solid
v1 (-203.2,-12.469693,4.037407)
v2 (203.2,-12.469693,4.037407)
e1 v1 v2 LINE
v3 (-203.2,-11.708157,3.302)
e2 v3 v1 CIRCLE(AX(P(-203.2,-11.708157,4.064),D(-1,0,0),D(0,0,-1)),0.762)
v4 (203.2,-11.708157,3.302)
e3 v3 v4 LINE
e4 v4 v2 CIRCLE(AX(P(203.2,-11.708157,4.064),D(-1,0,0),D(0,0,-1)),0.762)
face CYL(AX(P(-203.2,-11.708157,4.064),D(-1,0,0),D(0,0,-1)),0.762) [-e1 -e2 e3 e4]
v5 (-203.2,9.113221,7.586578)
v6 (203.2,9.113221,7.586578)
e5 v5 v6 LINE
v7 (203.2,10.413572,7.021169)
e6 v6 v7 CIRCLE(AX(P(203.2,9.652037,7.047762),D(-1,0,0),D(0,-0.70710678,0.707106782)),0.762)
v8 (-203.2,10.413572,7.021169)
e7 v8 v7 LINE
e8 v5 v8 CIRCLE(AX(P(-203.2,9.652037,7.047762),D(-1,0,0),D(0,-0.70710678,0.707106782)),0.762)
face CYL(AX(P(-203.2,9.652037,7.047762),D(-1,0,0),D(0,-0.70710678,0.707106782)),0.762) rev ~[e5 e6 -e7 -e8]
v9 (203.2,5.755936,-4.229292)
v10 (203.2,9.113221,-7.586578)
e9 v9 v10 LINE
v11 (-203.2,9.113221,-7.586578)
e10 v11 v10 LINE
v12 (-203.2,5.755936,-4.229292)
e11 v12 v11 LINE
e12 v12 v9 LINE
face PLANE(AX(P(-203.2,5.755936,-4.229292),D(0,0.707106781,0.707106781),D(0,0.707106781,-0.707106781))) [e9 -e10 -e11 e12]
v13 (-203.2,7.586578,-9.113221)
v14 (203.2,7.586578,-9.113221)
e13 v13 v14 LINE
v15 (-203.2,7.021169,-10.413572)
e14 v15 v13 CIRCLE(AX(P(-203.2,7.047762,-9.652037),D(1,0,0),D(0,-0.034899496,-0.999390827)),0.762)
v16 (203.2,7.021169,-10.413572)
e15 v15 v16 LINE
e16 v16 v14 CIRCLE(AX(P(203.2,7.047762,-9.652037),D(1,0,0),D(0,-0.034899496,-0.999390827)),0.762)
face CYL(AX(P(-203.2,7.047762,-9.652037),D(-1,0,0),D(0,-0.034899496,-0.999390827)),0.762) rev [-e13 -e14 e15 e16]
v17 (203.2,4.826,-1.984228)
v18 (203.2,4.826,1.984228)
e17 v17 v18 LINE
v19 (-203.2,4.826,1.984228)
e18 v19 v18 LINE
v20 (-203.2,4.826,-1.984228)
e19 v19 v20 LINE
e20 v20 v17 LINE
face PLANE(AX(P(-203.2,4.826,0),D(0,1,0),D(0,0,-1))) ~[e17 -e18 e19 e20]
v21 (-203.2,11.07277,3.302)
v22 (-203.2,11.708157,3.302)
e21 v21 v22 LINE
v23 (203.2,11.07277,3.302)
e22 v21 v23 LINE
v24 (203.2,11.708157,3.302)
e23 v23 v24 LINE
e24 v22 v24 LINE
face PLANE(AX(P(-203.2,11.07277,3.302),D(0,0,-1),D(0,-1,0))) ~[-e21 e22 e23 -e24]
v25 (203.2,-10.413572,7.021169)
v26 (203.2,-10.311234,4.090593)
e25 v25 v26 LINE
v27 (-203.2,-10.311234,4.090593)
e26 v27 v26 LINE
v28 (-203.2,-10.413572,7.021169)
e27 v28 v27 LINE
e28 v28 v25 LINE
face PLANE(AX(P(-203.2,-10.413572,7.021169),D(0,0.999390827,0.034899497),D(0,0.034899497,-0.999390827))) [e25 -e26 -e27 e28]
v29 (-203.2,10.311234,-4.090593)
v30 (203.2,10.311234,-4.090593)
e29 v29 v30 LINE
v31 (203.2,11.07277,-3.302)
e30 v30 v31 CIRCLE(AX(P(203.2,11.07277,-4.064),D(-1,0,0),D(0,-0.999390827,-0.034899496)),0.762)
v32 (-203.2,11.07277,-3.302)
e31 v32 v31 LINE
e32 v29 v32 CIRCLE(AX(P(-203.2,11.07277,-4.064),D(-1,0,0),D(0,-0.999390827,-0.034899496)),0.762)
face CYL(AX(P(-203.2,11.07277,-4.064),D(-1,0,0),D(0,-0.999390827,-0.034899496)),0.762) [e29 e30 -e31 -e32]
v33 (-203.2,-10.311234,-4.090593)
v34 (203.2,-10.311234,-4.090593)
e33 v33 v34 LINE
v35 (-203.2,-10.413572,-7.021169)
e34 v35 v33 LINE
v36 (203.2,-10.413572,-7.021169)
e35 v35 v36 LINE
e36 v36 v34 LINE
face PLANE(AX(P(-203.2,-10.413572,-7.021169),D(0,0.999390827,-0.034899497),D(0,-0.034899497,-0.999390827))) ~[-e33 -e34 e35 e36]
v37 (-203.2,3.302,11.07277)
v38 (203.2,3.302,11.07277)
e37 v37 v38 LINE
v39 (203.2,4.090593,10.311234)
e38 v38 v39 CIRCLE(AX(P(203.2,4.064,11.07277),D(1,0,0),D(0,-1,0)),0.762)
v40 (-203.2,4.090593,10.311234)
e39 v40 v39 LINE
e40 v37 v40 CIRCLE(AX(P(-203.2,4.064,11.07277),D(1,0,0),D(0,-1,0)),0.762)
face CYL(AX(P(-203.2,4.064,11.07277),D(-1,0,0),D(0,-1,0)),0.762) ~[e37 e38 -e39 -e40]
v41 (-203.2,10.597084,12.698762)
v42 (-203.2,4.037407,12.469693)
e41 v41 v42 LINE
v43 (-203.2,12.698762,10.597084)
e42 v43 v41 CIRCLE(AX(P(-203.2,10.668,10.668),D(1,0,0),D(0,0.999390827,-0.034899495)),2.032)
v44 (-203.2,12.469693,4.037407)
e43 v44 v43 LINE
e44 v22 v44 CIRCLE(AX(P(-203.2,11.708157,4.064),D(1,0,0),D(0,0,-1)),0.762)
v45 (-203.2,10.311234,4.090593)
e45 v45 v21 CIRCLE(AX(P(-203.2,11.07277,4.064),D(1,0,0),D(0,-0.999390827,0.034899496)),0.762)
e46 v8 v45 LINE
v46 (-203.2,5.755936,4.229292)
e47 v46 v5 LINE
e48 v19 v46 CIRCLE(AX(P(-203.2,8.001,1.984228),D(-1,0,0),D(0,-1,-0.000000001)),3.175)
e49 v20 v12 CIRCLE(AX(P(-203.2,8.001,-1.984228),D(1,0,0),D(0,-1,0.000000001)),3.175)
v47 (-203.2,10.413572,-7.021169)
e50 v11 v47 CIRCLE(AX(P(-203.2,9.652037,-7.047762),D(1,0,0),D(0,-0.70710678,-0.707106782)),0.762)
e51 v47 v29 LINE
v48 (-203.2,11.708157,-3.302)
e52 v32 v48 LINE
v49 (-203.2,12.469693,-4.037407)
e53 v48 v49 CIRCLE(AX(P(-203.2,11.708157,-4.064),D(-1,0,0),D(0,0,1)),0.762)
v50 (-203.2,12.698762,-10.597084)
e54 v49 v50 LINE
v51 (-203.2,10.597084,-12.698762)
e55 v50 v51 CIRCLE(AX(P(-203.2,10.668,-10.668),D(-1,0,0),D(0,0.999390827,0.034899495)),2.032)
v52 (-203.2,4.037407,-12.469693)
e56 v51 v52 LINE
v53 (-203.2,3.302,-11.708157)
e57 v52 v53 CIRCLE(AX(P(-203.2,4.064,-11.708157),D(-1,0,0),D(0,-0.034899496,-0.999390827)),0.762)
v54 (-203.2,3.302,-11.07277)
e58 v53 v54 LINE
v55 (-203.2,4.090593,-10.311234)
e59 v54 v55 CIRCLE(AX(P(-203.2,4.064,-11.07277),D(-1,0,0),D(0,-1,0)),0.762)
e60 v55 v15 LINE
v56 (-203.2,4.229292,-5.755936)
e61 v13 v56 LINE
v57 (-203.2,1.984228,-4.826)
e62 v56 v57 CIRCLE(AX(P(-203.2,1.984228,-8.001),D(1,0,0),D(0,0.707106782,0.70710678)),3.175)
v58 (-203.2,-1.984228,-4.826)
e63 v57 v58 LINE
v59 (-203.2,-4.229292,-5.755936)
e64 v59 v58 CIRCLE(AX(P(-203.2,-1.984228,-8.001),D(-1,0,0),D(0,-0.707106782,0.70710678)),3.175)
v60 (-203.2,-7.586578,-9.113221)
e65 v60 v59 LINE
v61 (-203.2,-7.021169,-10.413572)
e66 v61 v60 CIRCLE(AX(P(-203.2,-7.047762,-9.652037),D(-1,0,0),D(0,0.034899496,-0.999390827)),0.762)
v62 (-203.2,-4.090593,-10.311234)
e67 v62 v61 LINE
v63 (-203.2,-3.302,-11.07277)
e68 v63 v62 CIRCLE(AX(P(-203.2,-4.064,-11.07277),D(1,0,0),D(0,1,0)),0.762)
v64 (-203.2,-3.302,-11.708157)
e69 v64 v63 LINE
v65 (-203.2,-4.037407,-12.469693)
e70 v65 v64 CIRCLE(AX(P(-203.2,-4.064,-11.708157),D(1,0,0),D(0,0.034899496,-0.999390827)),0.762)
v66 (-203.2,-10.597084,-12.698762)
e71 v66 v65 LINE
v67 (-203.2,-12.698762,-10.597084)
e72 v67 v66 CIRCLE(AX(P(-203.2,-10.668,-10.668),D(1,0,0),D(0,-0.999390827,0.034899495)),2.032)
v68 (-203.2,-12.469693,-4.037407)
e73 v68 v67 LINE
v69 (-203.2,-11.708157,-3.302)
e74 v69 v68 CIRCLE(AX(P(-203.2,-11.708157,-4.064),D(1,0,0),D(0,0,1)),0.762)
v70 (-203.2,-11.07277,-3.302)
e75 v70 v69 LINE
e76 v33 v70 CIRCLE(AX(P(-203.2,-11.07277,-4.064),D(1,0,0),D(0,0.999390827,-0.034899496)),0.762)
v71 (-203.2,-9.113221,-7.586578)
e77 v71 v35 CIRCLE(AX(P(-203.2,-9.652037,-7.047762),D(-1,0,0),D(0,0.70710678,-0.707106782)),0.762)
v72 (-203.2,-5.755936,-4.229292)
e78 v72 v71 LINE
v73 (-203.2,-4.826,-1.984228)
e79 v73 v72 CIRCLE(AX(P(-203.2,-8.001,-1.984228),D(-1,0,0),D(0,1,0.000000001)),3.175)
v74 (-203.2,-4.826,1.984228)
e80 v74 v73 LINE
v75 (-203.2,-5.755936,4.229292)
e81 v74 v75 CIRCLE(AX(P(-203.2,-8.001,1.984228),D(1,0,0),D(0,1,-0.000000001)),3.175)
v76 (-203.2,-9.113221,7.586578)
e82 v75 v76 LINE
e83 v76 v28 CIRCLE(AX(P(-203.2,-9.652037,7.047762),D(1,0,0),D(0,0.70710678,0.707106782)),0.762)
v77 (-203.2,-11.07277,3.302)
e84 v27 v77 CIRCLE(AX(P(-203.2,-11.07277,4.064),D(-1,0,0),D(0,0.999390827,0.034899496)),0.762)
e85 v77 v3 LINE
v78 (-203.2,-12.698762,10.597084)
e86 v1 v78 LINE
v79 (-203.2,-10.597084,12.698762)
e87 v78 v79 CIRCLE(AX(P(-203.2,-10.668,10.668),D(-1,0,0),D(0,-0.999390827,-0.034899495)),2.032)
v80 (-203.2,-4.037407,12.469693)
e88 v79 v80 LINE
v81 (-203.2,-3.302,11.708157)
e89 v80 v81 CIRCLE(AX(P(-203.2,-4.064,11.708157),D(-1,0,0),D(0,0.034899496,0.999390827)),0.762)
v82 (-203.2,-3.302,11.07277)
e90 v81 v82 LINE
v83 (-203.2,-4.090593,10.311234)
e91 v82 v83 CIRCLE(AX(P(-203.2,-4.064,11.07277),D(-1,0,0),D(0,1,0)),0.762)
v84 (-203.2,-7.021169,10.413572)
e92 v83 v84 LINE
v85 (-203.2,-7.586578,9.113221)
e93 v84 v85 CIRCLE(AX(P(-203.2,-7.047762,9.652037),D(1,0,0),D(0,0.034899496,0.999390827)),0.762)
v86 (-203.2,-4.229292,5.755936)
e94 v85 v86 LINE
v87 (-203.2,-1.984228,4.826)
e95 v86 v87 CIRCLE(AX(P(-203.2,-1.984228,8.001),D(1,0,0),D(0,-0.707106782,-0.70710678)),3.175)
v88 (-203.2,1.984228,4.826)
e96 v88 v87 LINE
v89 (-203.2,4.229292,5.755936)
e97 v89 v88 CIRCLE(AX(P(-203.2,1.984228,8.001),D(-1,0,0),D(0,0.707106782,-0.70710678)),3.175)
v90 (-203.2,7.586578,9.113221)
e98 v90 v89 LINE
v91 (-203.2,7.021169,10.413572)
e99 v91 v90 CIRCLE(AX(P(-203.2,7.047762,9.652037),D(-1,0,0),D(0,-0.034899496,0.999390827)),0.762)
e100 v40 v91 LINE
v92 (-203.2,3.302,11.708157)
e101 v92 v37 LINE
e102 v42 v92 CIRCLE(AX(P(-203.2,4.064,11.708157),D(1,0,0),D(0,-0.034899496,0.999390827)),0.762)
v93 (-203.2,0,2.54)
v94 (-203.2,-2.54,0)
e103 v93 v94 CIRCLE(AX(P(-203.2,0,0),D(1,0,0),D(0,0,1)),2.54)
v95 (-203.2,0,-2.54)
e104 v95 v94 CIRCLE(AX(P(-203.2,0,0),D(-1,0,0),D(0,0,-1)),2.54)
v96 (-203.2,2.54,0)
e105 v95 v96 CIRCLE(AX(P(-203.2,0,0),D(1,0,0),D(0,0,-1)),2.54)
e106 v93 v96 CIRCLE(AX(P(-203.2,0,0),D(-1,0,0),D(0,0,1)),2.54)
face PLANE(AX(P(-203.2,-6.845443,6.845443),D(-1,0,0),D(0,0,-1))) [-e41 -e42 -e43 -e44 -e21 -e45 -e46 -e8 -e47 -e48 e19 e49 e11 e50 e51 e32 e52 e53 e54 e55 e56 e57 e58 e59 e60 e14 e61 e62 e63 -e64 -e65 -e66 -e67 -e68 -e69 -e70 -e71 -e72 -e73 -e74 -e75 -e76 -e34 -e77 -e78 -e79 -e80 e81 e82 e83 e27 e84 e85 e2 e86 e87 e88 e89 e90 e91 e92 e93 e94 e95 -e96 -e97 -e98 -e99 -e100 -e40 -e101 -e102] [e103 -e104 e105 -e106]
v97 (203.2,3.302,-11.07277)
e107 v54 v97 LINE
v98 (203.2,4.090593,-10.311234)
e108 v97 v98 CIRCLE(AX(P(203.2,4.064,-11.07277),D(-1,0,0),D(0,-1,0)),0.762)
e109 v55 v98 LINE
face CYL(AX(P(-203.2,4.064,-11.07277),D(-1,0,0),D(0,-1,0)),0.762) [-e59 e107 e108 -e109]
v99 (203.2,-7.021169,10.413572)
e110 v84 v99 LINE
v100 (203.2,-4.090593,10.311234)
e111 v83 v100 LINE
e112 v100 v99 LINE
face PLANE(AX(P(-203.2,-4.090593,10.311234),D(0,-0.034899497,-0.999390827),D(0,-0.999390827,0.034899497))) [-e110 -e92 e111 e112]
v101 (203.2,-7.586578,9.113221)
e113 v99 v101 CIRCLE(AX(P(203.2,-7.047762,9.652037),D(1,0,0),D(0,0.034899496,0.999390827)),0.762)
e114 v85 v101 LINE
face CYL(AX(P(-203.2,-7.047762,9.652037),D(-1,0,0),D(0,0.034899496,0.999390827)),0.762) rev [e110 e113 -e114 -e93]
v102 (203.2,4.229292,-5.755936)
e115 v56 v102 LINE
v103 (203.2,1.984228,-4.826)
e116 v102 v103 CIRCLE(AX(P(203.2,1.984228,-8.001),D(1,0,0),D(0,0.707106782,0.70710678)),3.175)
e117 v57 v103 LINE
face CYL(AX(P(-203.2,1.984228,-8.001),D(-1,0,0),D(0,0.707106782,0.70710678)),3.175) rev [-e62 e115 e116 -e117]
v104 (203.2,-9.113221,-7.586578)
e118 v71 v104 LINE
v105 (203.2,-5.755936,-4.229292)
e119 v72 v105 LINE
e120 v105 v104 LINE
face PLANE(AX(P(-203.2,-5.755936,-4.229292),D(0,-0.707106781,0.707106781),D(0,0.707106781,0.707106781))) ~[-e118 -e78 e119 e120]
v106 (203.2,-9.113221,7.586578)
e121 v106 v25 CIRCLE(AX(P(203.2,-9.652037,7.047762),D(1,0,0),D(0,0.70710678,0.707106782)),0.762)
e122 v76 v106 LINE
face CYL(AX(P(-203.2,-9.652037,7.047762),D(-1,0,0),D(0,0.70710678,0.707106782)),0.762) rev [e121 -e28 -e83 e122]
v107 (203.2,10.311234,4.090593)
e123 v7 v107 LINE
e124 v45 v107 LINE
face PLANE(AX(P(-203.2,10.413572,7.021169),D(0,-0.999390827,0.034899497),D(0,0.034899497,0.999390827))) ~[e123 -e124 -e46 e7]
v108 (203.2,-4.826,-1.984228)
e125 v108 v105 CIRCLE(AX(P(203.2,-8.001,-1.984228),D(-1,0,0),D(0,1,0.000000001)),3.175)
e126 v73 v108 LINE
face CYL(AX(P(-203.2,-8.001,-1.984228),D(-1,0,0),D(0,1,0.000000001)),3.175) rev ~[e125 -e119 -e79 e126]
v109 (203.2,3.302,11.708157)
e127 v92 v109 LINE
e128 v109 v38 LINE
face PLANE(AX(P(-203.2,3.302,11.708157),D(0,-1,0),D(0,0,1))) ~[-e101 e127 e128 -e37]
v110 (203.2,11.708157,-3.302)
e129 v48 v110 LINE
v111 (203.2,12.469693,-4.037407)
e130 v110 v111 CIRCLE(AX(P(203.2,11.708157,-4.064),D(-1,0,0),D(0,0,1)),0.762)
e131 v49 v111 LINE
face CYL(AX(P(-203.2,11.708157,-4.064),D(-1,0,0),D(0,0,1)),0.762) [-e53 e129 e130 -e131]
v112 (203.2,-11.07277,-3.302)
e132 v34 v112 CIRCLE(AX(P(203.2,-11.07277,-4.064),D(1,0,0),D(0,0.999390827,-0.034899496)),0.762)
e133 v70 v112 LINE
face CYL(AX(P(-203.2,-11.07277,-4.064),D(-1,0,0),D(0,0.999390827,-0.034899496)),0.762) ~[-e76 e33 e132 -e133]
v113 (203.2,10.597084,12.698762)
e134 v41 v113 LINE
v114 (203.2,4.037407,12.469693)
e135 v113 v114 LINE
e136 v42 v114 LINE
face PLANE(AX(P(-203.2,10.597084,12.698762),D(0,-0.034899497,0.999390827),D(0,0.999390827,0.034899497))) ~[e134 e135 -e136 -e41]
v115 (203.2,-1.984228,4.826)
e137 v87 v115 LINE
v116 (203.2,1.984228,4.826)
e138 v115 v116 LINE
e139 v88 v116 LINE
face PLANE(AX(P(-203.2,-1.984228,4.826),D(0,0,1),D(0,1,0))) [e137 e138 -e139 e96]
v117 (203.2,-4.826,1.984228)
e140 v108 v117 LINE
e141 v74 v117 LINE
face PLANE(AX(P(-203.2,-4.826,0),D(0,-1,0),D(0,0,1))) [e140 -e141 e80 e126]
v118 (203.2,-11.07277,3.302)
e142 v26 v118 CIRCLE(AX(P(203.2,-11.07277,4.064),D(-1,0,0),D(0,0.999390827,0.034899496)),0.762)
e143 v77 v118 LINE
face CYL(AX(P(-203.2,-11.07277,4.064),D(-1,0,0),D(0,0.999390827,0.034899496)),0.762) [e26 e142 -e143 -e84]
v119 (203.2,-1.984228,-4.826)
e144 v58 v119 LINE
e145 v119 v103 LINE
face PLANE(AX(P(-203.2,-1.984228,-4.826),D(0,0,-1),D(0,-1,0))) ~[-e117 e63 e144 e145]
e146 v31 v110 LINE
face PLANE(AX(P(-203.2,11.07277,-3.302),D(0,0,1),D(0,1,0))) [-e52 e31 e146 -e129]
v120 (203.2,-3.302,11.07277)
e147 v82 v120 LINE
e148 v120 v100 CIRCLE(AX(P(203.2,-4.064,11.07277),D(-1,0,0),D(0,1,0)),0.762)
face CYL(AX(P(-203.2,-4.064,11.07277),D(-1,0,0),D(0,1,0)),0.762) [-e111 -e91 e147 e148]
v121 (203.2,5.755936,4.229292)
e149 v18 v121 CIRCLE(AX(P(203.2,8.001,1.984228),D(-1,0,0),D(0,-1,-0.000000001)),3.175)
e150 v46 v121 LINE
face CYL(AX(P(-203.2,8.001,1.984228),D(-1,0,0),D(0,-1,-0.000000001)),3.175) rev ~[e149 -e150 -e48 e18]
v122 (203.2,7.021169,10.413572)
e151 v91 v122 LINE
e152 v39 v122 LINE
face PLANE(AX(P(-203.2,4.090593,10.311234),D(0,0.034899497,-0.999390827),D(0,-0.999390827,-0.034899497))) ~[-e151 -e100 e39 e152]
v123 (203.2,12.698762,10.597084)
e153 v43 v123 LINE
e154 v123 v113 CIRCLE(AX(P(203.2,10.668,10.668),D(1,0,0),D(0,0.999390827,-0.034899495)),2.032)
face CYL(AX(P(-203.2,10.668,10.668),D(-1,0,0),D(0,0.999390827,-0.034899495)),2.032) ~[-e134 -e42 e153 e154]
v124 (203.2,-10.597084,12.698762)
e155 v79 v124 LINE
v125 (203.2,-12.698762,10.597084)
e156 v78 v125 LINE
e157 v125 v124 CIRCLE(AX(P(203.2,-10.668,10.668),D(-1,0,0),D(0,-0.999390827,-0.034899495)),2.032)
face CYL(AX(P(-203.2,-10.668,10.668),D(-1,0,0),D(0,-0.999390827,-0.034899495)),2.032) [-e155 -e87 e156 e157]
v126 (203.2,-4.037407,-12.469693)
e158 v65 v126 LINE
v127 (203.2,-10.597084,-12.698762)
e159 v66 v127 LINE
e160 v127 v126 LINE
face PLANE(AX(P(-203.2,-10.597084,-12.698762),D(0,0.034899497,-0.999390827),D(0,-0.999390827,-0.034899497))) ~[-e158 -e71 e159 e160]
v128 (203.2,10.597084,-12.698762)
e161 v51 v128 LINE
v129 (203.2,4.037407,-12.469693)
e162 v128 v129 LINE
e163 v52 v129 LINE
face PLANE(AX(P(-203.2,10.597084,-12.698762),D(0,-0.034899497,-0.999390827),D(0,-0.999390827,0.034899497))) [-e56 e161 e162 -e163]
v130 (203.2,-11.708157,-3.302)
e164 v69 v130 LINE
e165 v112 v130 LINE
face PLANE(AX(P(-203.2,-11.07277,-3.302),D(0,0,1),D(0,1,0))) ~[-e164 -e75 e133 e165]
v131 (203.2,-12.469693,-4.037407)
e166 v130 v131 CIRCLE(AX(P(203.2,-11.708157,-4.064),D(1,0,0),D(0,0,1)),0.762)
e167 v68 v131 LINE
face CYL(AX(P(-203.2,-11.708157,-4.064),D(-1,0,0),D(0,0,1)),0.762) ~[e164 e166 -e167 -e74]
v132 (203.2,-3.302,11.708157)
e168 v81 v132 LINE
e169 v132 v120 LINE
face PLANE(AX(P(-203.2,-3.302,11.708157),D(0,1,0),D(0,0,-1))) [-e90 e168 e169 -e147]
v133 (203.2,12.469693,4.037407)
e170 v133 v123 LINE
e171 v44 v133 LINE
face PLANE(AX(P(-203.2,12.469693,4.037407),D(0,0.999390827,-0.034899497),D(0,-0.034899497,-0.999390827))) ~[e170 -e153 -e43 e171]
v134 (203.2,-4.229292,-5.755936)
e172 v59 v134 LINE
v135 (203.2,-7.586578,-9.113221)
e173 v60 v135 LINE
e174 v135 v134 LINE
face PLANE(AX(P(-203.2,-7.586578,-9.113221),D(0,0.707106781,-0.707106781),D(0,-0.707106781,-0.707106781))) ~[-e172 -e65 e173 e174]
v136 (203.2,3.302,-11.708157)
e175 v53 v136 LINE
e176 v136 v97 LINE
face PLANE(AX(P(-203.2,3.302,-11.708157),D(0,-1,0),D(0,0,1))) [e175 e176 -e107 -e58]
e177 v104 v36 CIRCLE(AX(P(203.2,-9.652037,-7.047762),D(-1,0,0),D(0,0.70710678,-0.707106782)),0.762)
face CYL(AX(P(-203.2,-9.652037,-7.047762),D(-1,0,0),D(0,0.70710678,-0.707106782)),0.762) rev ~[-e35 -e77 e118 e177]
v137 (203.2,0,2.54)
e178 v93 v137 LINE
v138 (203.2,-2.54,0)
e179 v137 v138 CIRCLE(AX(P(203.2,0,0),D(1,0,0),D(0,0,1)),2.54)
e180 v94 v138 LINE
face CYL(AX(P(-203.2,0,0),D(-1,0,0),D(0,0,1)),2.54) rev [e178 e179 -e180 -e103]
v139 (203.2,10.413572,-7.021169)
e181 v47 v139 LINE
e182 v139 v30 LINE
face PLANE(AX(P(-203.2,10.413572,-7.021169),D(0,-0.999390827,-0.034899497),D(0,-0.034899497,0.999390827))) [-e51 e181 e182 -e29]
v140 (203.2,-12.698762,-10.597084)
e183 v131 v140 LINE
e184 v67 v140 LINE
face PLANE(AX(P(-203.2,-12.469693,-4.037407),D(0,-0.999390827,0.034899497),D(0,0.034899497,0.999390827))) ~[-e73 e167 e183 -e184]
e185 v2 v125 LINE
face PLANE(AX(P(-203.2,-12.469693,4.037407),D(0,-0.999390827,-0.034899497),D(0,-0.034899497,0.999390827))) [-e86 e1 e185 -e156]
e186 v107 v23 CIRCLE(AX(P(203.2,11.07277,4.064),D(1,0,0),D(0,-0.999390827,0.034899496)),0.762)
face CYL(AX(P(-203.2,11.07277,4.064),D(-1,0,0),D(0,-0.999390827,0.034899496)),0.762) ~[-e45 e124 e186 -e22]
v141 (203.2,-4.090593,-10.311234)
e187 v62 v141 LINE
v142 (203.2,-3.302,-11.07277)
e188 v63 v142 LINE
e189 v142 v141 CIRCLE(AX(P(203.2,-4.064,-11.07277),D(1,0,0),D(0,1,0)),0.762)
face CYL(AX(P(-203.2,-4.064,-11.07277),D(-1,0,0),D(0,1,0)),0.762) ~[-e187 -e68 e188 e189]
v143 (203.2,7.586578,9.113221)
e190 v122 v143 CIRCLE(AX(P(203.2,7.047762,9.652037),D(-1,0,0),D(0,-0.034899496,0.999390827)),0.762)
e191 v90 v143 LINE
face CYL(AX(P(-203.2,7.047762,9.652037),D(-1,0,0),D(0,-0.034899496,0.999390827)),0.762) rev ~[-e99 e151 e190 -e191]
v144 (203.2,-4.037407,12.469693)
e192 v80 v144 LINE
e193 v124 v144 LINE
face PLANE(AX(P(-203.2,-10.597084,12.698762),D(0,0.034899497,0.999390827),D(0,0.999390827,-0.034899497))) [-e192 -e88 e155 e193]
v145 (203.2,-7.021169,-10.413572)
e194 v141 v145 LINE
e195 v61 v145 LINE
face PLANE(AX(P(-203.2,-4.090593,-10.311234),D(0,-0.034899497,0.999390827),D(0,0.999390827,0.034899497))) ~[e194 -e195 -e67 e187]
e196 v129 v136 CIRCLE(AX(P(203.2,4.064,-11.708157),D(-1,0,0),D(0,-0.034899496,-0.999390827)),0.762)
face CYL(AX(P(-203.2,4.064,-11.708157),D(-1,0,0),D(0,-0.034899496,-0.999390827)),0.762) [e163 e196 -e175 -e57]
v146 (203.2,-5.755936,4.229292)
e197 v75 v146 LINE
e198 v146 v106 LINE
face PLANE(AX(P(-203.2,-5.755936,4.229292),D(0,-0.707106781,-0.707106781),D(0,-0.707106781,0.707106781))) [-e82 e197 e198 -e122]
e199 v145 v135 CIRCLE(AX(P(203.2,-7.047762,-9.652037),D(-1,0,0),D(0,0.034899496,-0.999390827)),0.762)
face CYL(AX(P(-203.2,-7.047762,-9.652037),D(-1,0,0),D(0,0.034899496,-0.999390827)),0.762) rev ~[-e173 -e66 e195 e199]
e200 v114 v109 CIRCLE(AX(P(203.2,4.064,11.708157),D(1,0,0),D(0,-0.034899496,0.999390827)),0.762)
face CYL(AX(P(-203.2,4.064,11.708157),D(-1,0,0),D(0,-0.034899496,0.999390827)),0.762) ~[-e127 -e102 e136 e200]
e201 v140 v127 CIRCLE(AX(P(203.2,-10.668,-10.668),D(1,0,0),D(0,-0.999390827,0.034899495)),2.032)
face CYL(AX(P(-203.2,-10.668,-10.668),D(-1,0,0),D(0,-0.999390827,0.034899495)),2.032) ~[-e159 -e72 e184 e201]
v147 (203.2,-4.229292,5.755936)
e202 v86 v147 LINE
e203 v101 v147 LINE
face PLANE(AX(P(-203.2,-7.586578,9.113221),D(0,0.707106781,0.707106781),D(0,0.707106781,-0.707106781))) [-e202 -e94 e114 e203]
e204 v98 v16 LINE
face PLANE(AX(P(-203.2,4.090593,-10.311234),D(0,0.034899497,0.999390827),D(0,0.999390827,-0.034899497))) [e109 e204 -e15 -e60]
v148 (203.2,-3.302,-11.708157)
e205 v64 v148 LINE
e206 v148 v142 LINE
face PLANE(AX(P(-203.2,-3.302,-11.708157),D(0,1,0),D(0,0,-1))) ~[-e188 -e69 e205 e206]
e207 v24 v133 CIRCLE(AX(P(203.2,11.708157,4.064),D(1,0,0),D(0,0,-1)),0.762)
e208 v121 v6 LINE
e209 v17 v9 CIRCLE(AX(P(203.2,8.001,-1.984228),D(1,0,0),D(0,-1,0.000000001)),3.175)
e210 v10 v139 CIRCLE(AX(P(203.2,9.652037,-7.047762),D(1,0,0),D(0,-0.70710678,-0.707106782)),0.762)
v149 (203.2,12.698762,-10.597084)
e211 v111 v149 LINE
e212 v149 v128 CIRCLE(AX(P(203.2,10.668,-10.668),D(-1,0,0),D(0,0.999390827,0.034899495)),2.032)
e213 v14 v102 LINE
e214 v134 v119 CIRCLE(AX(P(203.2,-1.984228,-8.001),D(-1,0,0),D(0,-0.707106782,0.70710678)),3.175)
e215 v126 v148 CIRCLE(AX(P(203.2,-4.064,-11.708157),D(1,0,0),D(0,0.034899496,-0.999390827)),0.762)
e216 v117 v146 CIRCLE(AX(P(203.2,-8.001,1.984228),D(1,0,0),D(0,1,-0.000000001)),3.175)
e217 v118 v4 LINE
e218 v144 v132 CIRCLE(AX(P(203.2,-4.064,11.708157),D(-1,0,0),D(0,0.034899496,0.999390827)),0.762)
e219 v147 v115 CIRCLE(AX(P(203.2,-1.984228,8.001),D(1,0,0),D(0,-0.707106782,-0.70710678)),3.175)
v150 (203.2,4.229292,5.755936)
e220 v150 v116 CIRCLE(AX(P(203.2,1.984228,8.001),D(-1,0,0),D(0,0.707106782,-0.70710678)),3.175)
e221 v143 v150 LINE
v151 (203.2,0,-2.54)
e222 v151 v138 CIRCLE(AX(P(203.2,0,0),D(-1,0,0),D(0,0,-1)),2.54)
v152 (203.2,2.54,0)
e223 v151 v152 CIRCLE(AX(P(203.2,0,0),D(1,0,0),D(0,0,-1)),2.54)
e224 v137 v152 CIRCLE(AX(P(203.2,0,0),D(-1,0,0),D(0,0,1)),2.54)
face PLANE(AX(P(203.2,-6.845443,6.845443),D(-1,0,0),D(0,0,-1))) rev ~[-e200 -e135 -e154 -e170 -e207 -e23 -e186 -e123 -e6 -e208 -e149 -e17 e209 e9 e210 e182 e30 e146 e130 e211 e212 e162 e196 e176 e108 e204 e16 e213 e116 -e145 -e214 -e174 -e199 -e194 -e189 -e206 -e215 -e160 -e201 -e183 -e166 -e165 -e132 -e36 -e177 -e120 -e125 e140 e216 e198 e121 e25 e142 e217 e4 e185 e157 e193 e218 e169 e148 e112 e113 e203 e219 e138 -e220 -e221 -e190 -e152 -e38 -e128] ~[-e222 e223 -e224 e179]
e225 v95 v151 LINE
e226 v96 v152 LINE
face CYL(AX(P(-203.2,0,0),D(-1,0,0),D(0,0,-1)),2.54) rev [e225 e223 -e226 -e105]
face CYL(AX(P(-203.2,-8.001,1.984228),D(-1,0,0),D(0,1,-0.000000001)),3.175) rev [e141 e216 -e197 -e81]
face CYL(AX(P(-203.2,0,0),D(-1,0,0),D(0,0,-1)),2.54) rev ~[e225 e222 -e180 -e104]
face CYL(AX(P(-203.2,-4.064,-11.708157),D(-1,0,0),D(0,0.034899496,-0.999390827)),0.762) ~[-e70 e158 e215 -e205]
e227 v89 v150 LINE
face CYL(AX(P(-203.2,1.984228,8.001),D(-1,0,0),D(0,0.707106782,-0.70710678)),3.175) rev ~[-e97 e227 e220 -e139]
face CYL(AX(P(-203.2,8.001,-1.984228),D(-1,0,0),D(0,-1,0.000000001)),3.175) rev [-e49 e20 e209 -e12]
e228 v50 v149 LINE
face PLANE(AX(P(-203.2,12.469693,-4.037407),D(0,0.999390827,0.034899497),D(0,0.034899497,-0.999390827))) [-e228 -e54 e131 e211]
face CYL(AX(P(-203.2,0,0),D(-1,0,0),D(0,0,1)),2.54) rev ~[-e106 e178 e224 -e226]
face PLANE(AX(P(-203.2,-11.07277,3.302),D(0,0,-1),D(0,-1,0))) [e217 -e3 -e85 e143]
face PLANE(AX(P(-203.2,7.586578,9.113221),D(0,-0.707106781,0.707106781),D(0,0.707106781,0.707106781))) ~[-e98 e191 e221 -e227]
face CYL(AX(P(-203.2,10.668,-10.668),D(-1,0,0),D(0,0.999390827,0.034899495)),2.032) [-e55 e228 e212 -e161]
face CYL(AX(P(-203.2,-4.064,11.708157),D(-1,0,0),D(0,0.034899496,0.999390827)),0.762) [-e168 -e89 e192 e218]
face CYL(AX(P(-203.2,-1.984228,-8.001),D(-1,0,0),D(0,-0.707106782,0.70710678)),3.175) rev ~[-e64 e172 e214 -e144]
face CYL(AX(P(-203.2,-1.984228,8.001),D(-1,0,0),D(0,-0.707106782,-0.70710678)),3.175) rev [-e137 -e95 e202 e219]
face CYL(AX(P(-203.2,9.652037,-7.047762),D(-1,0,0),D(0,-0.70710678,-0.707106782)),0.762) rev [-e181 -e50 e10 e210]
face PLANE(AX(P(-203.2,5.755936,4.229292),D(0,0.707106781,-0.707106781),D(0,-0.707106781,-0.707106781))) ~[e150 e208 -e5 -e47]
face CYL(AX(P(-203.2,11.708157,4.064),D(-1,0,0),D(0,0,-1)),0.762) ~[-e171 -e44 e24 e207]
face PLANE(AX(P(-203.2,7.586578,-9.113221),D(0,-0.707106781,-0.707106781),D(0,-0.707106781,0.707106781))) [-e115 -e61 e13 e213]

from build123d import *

# Parameters (mm, degrees)
BOSS_EXTRUDE1_DEPTH      = 203.2
BOSS_EXTRUDE1_DEPTH_BACK = 203.2


with BuildPart() as part:
    # Sketch3 → Boss-Extrude1 (new, two sides: drawn at the far end of the back side and taken through both)
    with BuildSketch(Plane(origin=(0, 0, 0), x_dir=(0, 0, -1), z_dir=(1, 0, 0)).offset(-BOSS_EXTRUDE1_DEPTH_BACK)):
        with BuildLine():
            Line((0, 4.826), (1.984228399, 4.826))
            ThreePointArc((1.984228399, 4.826), (3.199248297, 5.067682484), (4.229292429, 5.75593597))
            Line((4.229292429, 5.75593597), (7.586577723, 9.113221264))
            ThreePointArc((7.586577723, 9.113221264), (7.746562132, 9.955883421), (7.021168939, 10.413572441))
            Line((7.021168939, 10.413572441), (4.090593416, 10.311234489))
            ThreePointArc((4.090593416, 10.311234489), (3.534670322, 10.524633371), (3.302, 11.072770299))
            Line((3.302, 11.072770299), (3.302, 11.70815736))
            ThreePointArc((3.302, 11.70815736), (3.515863072, 12.237487038), (4.037406584, 12.46969317))
            Line((4.037406584, 12.46969317), (10.597084223, 12.698762161))
            ThreePointArc((10.597084223, 12.698762161), (12.104840979, 12.104840979), (12.698762161, 10.597084223))
            Line((12.698762161, 10.597084223), (12.46969317, 4.037406584))
            ThreePointArc((12.46969317, 4.037406584), (12.237487038, 3.515863072), (11.70815736, 3.302))
            Line((11.70815736, 3.302), (11.072770299, 3.302))
            ThreePointArc((11.072770299, 3.302), (10.524633371, 3.534670322), (10.311234489, 4.090593416))
            Line((10.311234489, 4.090593416), (10.413572441, 7.021168939))
            ThreePointArc((10.413572441, 7.021168939), (9.955883421, 7.746562132), (9.113221264, 7.586577723))
            Line((9.113221264, 7.586577723), (5.75593597, 4.229292429))
            ThreePointArc((5.75593597, 4.229292429), (5.067682484, 3.199248297), (4.826, 1.984228399))
            Line((4.826, 1.984228399), (4.826, 0))
            Line((4.826, 0), (2.54, 0))
            ThreePointArc((2.54, 0), (1.796051224, 1.796051224), (0, 2.54))
            Line((0, 2.54), (0, 4.826))
        make_face()
    extrude(amount=BOSS_EXTRUDE1_DEPTH + BOSS_EXTRUDE1_DEPTH_BACK)

    # Mirror1: part across plane


with BuildPart() as part_1:
    add(part.part)
    add(part.part.mirror(Plane.ZX))

    # Mirror2: part across plane


with BuildPart() as part_2:
    add(part_1.part)
    add(part_1.part.mirror(Plane.XY))


solid = part_2.part
